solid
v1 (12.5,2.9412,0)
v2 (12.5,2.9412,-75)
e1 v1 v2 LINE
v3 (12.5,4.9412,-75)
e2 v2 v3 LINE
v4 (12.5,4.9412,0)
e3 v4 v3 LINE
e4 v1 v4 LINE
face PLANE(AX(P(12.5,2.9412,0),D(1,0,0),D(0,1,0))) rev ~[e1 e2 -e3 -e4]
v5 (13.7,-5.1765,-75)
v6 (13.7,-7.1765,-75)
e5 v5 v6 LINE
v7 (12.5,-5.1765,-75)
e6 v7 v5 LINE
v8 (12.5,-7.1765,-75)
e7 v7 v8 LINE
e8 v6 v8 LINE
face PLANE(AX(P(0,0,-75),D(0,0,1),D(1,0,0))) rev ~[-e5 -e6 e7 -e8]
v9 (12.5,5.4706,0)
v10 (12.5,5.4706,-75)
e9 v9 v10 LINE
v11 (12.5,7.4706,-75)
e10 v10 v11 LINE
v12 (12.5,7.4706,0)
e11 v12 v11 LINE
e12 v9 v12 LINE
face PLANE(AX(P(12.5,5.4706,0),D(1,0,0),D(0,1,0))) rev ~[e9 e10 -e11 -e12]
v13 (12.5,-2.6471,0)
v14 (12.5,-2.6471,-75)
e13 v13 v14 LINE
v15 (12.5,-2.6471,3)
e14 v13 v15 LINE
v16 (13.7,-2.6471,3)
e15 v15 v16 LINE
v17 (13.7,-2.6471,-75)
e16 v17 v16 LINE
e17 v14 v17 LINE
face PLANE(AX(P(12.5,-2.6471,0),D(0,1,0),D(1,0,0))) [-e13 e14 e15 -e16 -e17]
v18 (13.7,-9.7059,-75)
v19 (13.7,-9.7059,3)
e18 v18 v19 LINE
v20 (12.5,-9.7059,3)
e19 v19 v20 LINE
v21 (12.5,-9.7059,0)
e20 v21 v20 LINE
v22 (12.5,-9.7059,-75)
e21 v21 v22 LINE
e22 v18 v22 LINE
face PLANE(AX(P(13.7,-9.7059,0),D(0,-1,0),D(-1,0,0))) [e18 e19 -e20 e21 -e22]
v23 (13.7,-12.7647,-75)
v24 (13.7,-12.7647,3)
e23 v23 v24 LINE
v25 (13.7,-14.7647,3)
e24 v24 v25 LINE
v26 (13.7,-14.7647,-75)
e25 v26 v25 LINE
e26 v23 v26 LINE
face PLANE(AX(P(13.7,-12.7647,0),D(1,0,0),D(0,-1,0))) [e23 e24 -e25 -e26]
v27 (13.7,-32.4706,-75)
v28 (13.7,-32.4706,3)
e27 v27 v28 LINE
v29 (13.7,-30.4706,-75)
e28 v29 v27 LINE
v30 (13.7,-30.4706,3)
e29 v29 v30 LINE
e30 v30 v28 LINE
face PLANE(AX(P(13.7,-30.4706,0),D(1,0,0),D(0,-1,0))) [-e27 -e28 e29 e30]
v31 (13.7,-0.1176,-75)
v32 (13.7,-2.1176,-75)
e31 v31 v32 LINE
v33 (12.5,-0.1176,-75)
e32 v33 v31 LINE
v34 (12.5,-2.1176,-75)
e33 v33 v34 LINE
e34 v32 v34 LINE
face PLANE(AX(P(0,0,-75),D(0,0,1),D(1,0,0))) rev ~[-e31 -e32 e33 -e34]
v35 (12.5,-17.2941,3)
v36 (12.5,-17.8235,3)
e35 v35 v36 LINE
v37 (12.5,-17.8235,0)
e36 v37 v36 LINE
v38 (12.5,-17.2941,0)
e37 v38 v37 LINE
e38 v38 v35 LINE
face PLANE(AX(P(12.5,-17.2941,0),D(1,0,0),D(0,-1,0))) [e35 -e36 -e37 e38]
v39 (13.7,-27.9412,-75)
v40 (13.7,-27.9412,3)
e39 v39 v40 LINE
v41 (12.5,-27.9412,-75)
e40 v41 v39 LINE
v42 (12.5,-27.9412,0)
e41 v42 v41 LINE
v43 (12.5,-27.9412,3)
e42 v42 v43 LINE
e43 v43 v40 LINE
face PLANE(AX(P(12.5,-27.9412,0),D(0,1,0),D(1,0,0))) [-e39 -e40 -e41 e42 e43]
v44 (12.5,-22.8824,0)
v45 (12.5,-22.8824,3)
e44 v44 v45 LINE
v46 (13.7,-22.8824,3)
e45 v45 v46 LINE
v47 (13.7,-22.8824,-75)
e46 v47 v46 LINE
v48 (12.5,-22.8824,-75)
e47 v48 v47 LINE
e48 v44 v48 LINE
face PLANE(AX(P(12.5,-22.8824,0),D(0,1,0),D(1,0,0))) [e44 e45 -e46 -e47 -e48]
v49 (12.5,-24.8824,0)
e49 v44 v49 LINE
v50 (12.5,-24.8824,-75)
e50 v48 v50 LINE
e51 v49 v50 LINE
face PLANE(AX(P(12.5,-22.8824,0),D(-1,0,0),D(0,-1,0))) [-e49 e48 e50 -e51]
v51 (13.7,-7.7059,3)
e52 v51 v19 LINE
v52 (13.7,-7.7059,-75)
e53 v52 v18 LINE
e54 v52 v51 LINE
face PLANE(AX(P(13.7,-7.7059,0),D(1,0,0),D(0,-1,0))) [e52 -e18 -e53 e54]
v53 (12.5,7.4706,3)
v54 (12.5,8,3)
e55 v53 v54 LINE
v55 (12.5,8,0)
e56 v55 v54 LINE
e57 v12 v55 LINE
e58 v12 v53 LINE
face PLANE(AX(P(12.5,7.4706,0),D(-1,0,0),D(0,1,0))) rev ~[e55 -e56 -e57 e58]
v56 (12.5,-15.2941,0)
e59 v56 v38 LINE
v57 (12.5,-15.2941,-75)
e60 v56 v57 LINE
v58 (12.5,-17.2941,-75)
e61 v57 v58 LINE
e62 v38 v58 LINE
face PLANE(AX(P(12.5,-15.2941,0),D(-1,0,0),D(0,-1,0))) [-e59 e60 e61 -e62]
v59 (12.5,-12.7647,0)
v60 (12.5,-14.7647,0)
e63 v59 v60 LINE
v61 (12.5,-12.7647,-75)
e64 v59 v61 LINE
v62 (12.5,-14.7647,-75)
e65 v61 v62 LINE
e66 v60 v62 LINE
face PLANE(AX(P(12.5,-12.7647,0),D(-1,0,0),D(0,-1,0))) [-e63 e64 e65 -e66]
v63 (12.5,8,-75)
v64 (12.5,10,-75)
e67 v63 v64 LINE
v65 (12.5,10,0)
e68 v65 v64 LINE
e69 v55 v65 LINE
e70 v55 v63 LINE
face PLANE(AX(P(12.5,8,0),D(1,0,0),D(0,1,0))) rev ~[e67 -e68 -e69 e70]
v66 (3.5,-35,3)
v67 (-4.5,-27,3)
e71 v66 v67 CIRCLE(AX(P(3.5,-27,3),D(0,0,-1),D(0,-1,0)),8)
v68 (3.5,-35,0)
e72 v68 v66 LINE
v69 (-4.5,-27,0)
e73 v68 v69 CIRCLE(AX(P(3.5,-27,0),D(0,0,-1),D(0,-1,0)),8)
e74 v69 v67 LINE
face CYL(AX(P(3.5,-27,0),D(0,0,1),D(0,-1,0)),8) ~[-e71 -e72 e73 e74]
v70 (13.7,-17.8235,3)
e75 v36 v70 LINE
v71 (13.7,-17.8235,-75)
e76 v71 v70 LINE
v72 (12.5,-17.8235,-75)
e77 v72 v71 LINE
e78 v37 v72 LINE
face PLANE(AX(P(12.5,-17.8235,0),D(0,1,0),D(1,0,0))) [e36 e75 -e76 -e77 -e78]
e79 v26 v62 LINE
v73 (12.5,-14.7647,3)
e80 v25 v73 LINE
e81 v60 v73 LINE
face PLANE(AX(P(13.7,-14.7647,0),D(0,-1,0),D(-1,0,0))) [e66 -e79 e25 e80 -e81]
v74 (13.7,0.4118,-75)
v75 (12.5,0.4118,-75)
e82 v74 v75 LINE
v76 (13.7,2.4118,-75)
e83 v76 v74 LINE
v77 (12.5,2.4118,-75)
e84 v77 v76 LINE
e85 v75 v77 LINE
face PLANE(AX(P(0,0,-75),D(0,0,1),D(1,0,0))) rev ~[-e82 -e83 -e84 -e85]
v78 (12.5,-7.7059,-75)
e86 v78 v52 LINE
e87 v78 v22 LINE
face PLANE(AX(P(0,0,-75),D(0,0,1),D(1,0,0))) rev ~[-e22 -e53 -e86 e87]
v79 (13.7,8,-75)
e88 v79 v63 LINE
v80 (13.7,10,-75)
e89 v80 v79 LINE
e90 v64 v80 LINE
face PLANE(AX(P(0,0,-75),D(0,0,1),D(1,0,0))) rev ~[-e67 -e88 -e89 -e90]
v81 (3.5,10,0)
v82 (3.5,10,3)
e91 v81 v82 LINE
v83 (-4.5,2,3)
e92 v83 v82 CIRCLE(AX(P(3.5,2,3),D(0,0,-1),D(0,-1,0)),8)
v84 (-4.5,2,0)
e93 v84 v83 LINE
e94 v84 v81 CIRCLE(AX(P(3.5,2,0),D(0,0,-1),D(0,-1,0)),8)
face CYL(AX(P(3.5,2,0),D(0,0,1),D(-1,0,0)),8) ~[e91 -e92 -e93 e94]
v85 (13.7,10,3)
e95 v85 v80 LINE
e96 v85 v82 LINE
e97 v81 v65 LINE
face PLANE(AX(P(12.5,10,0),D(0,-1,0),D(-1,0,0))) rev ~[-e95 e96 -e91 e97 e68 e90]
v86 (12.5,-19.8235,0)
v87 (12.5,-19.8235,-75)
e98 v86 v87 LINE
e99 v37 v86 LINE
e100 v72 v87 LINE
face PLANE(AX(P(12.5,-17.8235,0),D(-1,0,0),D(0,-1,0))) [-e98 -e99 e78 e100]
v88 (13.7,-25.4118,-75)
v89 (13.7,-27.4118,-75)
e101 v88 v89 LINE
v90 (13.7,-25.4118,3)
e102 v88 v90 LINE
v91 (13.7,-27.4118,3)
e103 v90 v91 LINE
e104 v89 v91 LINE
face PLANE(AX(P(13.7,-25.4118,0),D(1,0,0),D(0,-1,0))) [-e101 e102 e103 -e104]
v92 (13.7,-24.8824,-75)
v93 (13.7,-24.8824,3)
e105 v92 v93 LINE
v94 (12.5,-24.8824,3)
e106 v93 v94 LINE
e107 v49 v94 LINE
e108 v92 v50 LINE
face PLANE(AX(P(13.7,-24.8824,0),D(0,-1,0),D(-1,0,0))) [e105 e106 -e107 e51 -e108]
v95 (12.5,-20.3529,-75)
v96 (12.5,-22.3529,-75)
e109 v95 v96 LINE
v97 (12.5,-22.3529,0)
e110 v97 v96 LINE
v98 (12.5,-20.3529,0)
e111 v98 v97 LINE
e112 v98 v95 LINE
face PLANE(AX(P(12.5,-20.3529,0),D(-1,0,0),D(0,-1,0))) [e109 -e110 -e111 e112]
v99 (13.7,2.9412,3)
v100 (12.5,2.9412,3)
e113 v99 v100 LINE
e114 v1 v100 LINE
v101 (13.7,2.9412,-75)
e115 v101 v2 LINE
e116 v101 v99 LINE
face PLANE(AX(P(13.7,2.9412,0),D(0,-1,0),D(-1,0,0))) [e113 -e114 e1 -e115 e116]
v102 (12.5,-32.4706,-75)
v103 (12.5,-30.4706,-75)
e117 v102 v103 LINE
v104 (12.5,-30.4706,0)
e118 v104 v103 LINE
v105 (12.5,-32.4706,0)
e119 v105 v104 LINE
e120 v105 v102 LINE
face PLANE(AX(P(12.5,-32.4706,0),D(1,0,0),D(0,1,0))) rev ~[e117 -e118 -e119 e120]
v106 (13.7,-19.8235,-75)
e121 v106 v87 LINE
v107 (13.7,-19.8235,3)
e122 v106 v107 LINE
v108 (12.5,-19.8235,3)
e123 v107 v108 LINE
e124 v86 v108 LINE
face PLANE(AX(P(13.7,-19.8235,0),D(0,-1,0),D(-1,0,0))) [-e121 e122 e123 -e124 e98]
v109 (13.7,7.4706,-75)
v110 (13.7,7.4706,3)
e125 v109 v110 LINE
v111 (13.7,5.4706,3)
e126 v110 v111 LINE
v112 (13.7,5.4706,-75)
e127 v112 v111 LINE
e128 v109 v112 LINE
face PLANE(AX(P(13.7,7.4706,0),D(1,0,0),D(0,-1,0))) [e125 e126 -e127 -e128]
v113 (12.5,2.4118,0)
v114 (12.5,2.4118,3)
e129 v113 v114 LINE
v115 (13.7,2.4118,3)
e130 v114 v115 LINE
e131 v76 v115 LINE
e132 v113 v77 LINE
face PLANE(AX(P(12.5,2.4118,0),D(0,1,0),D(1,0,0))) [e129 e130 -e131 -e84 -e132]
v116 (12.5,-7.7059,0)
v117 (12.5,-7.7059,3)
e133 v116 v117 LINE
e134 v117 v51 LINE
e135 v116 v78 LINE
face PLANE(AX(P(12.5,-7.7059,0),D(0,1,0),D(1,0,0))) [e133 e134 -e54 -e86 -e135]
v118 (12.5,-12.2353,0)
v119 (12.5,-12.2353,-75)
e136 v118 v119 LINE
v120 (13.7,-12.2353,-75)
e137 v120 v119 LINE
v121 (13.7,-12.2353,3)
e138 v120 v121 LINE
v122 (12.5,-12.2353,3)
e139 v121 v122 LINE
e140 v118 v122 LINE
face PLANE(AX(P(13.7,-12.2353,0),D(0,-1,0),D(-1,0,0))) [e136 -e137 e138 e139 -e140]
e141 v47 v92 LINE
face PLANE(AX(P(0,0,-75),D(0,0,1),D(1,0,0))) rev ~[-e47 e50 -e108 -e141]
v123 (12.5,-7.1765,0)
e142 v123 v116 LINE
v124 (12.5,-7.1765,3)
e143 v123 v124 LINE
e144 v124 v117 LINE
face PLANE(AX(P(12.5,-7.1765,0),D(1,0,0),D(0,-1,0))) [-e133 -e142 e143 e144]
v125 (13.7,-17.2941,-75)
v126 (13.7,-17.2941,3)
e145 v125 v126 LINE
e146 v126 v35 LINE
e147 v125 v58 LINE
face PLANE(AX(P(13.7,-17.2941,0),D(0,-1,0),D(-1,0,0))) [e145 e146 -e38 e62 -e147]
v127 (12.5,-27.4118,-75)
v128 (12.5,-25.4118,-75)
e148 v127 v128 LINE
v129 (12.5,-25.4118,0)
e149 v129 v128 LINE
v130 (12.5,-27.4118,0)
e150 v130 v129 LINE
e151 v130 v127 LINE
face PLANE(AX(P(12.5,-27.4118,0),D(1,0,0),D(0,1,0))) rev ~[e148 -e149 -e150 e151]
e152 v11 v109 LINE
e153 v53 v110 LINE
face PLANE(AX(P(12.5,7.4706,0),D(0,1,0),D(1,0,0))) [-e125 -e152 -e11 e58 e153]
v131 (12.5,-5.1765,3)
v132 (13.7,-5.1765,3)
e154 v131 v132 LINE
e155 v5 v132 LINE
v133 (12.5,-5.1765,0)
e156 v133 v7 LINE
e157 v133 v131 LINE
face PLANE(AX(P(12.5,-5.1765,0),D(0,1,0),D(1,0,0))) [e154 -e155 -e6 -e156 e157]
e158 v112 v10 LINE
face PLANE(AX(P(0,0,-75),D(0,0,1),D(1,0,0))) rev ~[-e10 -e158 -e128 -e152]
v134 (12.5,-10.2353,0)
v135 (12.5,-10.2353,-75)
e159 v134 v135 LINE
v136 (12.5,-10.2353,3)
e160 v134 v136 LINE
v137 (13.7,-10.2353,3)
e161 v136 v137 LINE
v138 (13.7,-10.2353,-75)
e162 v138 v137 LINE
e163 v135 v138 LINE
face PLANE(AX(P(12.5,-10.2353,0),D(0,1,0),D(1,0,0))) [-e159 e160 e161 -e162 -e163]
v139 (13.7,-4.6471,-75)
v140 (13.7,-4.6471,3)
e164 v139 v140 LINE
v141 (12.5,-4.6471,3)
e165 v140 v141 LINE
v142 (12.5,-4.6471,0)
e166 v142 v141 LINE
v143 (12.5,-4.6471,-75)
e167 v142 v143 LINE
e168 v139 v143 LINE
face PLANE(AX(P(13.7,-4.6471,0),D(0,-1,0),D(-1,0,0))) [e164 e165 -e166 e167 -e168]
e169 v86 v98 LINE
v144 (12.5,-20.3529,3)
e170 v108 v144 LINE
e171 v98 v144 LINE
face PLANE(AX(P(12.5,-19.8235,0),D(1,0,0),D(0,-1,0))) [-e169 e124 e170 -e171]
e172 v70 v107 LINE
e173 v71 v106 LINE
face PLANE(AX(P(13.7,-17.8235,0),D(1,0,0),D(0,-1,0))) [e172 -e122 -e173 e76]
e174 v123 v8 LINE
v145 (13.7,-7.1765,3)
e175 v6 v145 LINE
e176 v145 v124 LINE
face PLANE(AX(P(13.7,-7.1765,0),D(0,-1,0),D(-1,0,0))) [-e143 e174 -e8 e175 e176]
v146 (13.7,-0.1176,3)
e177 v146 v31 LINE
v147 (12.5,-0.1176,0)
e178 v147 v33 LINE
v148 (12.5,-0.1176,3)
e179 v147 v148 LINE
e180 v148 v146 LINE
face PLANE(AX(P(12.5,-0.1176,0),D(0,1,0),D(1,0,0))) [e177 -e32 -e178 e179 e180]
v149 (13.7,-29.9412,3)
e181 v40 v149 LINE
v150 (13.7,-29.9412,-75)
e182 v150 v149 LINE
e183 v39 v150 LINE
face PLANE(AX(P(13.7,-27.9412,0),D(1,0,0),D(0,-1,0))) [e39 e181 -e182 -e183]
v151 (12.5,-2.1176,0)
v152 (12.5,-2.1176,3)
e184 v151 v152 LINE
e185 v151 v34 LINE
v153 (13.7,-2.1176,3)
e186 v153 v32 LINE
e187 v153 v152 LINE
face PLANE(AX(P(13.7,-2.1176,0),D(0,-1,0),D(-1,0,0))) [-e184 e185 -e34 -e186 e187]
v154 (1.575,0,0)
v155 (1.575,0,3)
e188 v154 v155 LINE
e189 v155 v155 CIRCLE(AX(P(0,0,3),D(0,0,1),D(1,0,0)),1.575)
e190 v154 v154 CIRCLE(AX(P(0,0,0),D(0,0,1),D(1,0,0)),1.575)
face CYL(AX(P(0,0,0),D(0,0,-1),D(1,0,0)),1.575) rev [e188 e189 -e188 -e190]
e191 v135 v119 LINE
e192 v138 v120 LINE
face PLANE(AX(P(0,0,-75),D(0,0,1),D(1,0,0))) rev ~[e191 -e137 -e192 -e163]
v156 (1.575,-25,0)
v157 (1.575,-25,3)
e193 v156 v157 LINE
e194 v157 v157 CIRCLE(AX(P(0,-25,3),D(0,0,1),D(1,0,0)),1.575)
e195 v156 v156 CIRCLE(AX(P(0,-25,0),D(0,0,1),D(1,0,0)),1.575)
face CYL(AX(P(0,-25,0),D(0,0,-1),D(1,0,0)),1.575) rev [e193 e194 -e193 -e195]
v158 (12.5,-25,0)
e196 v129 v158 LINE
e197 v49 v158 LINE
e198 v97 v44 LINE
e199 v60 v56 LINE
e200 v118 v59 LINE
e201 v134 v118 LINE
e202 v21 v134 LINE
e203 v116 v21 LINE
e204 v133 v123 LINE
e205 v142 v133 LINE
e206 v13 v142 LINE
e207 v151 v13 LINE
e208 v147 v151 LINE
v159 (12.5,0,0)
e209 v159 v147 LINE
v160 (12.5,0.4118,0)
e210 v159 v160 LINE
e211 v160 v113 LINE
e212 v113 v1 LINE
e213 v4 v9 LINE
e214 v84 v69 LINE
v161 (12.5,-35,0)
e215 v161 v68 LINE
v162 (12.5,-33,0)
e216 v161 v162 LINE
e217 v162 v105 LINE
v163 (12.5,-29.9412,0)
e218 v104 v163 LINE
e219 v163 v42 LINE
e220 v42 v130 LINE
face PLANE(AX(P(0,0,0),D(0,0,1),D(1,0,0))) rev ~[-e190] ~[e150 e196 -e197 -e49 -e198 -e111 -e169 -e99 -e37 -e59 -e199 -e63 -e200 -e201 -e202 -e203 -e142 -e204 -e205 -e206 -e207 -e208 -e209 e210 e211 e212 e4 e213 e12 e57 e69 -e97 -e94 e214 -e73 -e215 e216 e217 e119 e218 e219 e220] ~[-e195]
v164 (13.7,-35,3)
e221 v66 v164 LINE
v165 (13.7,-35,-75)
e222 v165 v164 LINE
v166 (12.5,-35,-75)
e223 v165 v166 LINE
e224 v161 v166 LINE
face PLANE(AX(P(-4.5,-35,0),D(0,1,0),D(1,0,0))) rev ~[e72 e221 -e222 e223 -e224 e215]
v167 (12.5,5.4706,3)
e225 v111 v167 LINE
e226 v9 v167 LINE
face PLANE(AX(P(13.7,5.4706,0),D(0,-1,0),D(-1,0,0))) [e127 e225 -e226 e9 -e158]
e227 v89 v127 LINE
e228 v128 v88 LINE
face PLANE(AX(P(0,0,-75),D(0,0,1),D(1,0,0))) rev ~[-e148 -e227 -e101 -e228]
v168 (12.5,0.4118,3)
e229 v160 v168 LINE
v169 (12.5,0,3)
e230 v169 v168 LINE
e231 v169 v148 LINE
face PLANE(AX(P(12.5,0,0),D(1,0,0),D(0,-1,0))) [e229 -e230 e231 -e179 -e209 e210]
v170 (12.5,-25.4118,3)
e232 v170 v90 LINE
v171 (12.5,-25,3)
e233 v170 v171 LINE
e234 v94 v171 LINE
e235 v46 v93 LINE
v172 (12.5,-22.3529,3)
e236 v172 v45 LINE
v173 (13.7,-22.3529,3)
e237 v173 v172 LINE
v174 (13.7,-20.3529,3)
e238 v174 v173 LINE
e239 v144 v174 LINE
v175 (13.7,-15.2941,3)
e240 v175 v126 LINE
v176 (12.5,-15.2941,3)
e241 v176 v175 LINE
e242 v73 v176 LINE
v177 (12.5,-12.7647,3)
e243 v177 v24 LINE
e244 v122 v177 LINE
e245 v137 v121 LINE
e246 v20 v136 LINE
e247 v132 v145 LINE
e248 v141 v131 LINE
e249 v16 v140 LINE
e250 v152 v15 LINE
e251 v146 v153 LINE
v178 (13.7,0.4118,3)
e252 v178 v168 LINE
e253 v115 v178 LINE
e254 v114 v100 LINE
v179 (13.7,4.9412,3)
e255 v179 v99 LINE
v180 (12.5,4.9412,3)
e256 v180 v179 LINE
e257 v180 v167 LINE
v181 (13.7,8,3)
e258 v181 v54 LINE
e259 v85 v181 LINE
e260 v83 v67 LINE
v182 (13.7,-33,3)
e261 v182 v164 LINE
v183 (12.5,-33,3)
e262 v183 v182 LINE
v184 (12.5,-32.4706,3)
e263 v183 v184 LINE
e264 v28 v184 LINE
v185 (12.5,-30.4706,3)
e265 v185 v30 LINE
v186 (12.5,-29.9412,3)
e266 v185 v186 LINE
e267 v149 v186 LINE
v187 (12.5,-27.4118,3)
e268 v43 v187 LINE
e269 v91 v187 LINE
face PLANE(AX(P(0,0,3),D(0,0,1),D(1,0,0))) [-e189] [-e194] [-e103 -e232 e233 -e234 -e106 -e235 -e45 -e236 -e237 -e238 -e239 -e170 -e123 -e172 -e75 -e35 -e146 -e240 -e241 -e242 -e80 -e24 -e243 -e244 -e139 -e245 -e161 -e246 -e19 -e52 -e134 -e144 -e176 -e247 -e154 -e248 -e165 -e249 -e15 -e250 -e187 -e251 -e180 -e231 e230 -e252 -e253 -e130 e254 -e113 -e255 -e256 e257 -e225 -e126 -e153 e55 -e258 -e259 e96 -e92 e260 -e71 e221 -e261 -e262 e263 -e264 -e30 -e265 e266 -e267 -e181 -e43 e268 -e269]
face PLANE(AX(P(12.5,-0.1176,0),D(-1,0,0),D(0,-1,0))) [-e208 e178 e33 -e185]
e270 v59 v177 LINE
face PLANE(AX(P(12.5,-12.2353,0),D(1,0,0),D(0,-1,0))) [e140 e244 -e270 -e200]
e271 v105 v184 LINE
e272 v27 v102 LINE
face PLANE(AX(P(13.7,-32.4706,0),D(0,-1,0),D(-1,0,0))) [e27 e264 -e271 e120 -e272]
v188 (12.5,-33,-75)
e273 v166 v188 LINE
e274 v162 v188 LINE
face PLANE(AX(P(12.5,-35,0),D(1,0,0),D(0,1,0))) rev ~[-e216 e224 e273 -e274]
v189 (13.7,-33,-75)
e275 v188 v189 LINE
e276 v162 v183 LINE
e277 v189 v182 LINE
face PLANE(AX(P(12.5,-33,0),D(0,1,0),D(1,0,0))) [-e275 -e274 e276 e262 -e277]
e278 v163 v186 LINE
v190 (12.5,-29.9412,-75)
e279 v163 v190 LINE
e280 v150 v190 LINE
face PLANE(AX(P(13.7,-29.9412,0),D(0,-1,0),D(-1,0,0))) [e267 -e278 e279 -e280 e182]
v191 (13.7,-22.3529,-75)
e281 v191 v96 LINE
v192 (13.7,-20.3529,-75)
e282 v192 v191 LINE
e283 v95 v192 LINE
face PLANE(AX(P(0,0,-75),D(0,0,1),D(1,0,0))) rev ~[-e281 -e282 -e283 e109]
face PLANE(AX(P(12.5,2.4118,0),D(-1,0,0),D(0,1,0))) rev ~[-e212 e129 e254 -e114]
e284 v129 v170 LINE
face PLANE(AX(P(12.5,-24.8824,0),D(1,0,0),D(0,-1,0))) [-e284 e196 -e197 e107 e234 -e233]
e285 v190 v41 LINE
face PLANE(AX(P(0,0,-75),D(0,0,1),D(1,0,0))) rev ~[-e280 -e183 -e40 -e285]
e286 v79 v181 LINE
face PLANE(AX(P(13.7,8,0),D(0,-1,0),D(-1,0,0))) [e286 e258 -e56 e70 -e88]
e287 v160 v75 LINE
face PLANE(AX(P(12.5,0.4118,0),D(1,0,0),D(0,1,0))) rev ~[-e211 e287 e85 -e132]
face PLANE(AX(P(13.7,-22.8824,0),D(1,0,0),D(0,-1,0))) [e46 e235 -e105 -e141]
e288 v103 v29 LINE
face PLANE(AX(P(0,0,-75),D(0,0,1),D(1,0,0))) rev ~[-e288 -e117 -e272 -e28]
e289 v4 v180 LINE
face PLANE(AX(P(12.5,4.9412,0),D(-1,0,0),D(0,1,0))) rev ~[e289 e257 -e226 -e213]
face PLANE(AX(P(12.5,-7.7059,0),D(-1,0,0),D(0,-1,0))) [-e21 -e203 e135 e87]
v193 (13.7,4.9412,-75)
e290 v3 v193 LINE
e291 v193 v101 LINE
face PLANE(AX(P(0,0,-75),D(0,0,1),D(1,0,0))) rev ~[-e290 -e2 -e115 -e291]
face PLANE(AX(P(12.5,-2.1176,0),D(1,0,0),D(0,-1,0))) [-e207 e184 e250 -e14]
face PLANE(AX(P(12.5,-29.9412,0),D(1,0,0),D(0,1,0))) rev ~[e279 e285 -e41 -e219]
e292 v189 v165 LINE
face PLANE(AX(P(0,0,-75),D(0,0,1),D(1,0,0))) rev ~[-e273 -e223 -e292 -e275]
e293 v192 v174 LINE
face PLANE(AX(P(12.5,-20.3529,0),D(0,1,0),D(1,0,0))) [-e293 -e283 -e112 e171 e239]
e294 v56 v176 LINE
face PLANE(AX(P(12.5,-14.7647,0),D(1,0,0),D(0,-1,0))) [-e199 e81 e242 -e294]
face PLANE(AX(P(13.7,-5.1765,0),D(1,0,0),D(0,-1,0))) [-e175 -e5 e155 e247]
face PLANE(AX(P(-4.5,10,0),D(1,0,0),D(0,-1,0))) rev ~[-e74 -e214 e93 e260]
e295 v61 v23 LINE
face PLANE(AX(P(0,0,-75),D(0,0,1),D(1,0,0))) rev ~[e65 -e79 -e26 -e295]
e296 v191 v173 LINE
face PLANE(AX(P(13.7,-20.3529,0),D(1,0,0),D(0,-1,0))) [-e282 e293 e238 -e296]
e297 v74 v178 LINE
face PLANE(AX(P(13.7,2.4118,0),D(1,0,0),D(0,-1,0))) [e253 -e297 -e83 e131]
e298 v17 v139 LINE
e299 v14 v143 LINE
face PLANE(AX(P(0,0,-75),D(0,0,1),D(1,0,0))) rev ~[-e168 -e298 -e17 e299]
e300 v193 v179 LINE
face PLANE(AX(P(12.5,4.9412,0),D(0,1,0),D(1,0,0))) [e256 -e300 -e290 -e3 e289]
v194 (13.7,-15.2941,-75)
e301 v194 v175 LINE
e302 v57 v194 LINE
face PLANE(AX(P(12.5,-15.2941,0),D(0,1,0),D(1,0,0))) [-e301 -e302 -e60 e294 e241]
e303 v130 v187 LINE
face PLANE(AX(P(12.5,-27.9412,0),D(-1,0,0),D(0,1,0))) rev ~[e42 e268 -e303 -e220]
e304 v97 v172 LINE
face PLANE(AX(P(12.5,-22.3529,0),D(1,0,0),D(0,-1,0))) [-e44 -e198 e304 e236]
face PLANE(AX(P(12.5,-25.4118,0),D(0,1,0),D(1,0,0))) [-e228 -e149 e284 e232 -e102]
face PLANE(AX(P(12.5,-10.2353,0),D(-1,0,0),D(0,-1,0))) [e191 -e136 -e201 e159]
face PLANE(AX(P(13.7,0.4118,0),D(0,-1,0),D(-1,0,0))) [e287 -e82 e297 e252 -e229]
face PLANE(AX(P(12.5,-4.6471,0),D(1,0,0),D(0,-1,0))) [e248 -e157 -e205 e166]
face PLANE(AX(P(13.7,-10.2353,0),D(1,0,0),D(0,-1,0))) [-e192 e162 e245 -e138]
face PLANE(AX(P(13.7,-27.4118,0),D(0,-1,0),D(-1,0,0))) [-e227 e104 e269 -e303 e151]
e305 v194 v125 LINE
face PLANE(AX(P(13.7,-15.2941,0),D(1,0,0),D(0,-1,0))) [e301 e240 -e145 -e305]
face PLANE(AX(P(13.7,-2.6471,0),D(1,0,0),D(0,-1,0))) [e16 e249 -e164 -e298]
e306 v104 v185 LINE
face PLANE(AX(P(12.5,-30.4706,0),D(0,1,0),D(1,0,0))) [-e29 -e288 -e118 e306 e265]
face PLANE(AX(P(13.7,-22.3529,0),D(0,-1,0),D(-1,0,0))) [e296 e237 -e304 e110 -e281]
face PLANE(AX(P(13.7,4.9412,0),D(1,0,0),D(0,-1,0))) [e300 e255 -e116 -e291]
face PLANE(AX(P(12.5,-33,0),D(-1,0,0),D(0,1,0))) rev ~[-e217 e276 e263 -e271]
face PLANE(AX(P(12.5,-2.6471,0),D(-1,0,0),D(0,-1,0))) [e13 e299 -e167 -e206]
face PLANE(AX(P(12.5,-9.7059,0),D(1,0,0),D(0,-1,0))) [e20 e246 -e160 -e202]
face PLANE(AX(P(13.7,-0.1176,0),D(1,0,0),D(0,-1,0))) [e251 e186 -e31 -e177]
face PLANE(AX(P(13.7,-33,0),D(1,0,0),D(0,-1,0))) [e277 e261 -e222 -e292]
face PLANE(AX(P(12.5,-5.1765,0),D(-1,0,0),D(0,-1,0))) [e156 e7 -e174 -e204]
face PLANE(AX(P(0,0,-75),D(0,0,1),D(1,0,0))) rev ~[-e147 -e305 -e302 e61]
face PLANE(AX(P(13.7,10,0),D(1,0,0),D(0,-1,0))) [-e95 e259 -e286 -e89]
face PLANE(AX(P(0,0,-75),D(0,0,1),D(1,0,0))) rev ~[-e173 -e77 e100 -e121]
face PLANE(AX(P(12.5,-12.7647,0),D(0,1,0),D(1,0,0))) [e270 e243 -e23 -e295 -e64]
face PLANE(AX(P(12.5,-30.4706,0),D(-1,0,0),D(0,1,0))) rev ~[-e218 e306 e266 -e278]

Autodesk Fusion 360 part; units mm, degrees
sketch "Boceto1" plane through (0, 0, 0) normal (0, 0, 1) x (1, 0, 0)
  circle A0 centre (0, 0) radius 1.575
  line L0 (0, 0) -> (12.5, 0)
  line L1 (12.5, 0) -> (12.5, 10)
  line L2 (12.5, 0) -> (12.5, -25)
  line L3 (12.5, 10) -> (-4.5, 10)
  line L4 (-4.5, 10) -> (-4.5, -35)
  line L5 (-4.5, -35) -> (12.5, -35)
  line L6 (12.5, -35) -> (12.5, 10)
  line L7 (12.5, -25) -> (0, -25)
  circle A1 centre (0, -25) radius 1.575
  line L8 (12.5, 10) -> (13.7, 10)
  line L9 (13.7, 10) -> (13.7, 8)
  line L10 (13.7, 8) -> (12.5, 8)
  line L11 (12.5, 8) -> (12.5, 10)
  line L12 (13.7, 5.4706) -> (12.5, 5.4706)
  line L13 (13.7, 7.4706) -> (13.7, 5.4706)
  line L14 (12.5, 7.4706) -> (13.7, 7.4706)
  line L15 (12.5, 5.4706) -> (12.5, 7.4706)
  line L16 (13.7, 2.9412) -> (12.5, 2.9412)
  line L17 (13.7, 4.9412) -> (13.7, 2.9412)
  line L18 (12.5, 4.9412) -> (13.7, 4.9412)
  line L19 (12.5, 2.9412) -> (12.5, 4.9412)
  line L20 (13.7, 0.4118) -> (12.5, 0.4118)
  line L21 (13.7, 2.4118) -> (13.7, 0.4118)
  line L22 (12.5, 2.4118) -> (13.7, 2.4118)
  line L23 (12.5, 0.4118) -> (12.5, 2.4118)
  line L24 (13.7, -2.1176) -> (12.5, -2.1176)
  line L25 (13.7, -0.1176) -> (13.7, -2.1176)
  line L26 (12.5, -0.1176) -> (13.7, -0.1176)
  line L27 (12.5, -2.1176) -> (12.5, -0.1176)
  line L28 (13.7, -4.6471) -> (12.5, -4.6471)
  line L29 (13.7, -2.6471) -> (13.7, -4.6471)
  line L30 (12.5, -2.6471) -> (13.7, -2.6471)
  line L31 (12.5, -4.6471) -> (12.5, -2.6471)
  line L32 (13.7, -7.1765) -> (12.5, -7.1765)
  line L33 (13.7, -5.1765) -> (13.7, -7.1765)
  line L34 (12.5, -5.1765) -> (13.7, -5.1765)
  line L35 (12.5, -7.1765) -> (12.5, -5.1765)
  line L36 (13.7, -9.7059) -> (12.5, -9.7059)
  line L37 (13.7, -7.7059) -> (13.7, -9.7059)
  line L38 (12.5, -7.7059) -> (13.7, -7.7059)
  line L39 (12.5, -9.7059) -> (12.5, -7.7059)
  line L40 (13.7, -12.2353) -> (12.5, -12.2353)
  line L41 (13.7, -10.2353) -> (13.7, -12.2353)
  line L42 (12.5, -10.2353) -> (13.7, -10.2353)
  line L43 (12.5, -12.2353) -> (12.5, -10.2353)
  line L44 (13.7, -14.7647) -> (12.5, -14.7647)
  line L45 (13.7, -12.7647) -> (13.7, -14.7647)
  line L46 (12.5, -12.7647) -> (13.7, -12.7647)
  line L47 (12.5, -14.7647) -> (12.5, -12.7647)
  line L48 (13.7, -17.2941) -> (12.5, -17.2941)
  line L49 (13.7, -15.2941) -> (13.7, -17.2941)
  line L50 (12.5, -15.2941) -> (13.7, -15.2941)
  line L51 (12.5, -17.2941) -> (12.5, -15.2941)
  line L52 (13.7, -19.8235) -> (12.5, -19.8235)
  line L53 (13.7, -17.8235) -> (13.7, -19.8235)
  line L54 (12.5, -17.8235) -> (13.7, -17.8235)
  line L55 (12.5, -19.8235) -> (12.5, -17.8235)
  line L56 (13.7, -22.3529) -> (12.5, -22.3529)
  line L57 (13.7, -20.3529) -> (13.7, -22.3529)
  line L58 (12.5, -20.3529) -> (13.7, -20.3529)
  line L59 (12.5, -22.3529) -> (12.5, -20.3529)
  line L60 (13.7, -24.8824) -> (12.5, -24.8824)
  line L61 (13.7, -22.8824) -> (13.7, -24.8824)
  line L62 (12.5, -22.8824) -> (13.7, -22.8824)
  line L63 (12.5, -24.8824) -> (12.5, -22.8824)
  line L64 (13.7, -27.4118) -> (12.5, -27.4118)
  line L65 (13.7, -25.4118) -> (13.7, -27.4118)
  line L66 (12.5, -25.4118) -> (13.7, -25.4118)
  line L67 (12.5, -27.4118) -> (12.5, -25.4118)
  line L68 (13.7, -29.9412) -> (12.5, -29.9412)
  line L69 (13.7, -27.9412) -> (13.7, -29.9412)
  line L70 (12.5, -27.9412) -> (13.7, -27.9412)
  line L71 (12.5, -29.9412) -> (12.5, -27.9412)
  line L72 (13.7, -32.4706) -> (12.5, -32.4706)
  line L73 (13.7, -30.4706) -> (13.7, -32.4706)
  line L74 (12.5, -30.4706) -> (13.7, -30.4706)
  line L75 (12.5, -32.4706) -> (12.5, -30.4706)
  line L76 (13.7, -35) -> (12.5, -35)
  line L77 (13.7, -33) -> (13.7, -35)
  line L78 (12.5, -33) -> (13.7, -33)
  line L79 (12.5, -35) -> (12.5, -33)
  dimension "d1" = 3.15
  dimension "d2" = 12.5
  dimension "d3" = 10
  dimension "d4" = 25
  dimension "d5" = 17
  dimension "d6" = 45
  dimension "d7" = 12.5
  dimension "d8" = 3.15
  dimension "d9" = 1.2
  dimension "d10" = 2
  dimension "d13" = 0
  dimension "d14" = -43
extrude "Extruir1" add sketch "Boceto1" along normal blind 3 makes body 1
copy_body "Cuerpo - > Comp.1" bodies 1 removing the originals makes body 2 in component "Cortina de Lamas"
extrude "Extruir1'" add sketch "Boceto1" against normal blind 75 contours L1 L6 L20 L21 L22 L23 | L2 L6 L24 L25 L26 L27 | L1 L6 L16 L17 L18 L19 | L2 L6 L28 L29 L30 L31 | L1 L6 L12 L13 L14 L15 | L2 L6 L32 L33 L34 L35 | L1 L6 L8 L9 L10 L11 | L2 L6 L36 L37 L38 L39 | L2 L6 L40 L41 L42 L43 | L6 L76 L77 L78 L79 | L2 L6 L44 L45 L46 L47 | L6 L72 L73 L74 L75 | L2 L6 L48 L49 L50 L51 | L6 L68 L69 L70 L71 | L2 L6 L52 L53 L54 L55 | L6 L64 L65 L66 L67 | L2 L6 L56 L57 L58 L59 | L2 L6 L60 L61 L62 L63 bodies 2 in component "Cortina de Lamas"
fillet "Empalme1" radius 8 2 edges at (-4.5, 10, 1.5) (-4.5, -35, 1.5) on bodies 2 in component "Cortina de Lamas"
component "Cortina de Lamas" placed x (1, 0, 0) y (0, 1, 0) z (0, 0, 1) at (0, 0, 0)
